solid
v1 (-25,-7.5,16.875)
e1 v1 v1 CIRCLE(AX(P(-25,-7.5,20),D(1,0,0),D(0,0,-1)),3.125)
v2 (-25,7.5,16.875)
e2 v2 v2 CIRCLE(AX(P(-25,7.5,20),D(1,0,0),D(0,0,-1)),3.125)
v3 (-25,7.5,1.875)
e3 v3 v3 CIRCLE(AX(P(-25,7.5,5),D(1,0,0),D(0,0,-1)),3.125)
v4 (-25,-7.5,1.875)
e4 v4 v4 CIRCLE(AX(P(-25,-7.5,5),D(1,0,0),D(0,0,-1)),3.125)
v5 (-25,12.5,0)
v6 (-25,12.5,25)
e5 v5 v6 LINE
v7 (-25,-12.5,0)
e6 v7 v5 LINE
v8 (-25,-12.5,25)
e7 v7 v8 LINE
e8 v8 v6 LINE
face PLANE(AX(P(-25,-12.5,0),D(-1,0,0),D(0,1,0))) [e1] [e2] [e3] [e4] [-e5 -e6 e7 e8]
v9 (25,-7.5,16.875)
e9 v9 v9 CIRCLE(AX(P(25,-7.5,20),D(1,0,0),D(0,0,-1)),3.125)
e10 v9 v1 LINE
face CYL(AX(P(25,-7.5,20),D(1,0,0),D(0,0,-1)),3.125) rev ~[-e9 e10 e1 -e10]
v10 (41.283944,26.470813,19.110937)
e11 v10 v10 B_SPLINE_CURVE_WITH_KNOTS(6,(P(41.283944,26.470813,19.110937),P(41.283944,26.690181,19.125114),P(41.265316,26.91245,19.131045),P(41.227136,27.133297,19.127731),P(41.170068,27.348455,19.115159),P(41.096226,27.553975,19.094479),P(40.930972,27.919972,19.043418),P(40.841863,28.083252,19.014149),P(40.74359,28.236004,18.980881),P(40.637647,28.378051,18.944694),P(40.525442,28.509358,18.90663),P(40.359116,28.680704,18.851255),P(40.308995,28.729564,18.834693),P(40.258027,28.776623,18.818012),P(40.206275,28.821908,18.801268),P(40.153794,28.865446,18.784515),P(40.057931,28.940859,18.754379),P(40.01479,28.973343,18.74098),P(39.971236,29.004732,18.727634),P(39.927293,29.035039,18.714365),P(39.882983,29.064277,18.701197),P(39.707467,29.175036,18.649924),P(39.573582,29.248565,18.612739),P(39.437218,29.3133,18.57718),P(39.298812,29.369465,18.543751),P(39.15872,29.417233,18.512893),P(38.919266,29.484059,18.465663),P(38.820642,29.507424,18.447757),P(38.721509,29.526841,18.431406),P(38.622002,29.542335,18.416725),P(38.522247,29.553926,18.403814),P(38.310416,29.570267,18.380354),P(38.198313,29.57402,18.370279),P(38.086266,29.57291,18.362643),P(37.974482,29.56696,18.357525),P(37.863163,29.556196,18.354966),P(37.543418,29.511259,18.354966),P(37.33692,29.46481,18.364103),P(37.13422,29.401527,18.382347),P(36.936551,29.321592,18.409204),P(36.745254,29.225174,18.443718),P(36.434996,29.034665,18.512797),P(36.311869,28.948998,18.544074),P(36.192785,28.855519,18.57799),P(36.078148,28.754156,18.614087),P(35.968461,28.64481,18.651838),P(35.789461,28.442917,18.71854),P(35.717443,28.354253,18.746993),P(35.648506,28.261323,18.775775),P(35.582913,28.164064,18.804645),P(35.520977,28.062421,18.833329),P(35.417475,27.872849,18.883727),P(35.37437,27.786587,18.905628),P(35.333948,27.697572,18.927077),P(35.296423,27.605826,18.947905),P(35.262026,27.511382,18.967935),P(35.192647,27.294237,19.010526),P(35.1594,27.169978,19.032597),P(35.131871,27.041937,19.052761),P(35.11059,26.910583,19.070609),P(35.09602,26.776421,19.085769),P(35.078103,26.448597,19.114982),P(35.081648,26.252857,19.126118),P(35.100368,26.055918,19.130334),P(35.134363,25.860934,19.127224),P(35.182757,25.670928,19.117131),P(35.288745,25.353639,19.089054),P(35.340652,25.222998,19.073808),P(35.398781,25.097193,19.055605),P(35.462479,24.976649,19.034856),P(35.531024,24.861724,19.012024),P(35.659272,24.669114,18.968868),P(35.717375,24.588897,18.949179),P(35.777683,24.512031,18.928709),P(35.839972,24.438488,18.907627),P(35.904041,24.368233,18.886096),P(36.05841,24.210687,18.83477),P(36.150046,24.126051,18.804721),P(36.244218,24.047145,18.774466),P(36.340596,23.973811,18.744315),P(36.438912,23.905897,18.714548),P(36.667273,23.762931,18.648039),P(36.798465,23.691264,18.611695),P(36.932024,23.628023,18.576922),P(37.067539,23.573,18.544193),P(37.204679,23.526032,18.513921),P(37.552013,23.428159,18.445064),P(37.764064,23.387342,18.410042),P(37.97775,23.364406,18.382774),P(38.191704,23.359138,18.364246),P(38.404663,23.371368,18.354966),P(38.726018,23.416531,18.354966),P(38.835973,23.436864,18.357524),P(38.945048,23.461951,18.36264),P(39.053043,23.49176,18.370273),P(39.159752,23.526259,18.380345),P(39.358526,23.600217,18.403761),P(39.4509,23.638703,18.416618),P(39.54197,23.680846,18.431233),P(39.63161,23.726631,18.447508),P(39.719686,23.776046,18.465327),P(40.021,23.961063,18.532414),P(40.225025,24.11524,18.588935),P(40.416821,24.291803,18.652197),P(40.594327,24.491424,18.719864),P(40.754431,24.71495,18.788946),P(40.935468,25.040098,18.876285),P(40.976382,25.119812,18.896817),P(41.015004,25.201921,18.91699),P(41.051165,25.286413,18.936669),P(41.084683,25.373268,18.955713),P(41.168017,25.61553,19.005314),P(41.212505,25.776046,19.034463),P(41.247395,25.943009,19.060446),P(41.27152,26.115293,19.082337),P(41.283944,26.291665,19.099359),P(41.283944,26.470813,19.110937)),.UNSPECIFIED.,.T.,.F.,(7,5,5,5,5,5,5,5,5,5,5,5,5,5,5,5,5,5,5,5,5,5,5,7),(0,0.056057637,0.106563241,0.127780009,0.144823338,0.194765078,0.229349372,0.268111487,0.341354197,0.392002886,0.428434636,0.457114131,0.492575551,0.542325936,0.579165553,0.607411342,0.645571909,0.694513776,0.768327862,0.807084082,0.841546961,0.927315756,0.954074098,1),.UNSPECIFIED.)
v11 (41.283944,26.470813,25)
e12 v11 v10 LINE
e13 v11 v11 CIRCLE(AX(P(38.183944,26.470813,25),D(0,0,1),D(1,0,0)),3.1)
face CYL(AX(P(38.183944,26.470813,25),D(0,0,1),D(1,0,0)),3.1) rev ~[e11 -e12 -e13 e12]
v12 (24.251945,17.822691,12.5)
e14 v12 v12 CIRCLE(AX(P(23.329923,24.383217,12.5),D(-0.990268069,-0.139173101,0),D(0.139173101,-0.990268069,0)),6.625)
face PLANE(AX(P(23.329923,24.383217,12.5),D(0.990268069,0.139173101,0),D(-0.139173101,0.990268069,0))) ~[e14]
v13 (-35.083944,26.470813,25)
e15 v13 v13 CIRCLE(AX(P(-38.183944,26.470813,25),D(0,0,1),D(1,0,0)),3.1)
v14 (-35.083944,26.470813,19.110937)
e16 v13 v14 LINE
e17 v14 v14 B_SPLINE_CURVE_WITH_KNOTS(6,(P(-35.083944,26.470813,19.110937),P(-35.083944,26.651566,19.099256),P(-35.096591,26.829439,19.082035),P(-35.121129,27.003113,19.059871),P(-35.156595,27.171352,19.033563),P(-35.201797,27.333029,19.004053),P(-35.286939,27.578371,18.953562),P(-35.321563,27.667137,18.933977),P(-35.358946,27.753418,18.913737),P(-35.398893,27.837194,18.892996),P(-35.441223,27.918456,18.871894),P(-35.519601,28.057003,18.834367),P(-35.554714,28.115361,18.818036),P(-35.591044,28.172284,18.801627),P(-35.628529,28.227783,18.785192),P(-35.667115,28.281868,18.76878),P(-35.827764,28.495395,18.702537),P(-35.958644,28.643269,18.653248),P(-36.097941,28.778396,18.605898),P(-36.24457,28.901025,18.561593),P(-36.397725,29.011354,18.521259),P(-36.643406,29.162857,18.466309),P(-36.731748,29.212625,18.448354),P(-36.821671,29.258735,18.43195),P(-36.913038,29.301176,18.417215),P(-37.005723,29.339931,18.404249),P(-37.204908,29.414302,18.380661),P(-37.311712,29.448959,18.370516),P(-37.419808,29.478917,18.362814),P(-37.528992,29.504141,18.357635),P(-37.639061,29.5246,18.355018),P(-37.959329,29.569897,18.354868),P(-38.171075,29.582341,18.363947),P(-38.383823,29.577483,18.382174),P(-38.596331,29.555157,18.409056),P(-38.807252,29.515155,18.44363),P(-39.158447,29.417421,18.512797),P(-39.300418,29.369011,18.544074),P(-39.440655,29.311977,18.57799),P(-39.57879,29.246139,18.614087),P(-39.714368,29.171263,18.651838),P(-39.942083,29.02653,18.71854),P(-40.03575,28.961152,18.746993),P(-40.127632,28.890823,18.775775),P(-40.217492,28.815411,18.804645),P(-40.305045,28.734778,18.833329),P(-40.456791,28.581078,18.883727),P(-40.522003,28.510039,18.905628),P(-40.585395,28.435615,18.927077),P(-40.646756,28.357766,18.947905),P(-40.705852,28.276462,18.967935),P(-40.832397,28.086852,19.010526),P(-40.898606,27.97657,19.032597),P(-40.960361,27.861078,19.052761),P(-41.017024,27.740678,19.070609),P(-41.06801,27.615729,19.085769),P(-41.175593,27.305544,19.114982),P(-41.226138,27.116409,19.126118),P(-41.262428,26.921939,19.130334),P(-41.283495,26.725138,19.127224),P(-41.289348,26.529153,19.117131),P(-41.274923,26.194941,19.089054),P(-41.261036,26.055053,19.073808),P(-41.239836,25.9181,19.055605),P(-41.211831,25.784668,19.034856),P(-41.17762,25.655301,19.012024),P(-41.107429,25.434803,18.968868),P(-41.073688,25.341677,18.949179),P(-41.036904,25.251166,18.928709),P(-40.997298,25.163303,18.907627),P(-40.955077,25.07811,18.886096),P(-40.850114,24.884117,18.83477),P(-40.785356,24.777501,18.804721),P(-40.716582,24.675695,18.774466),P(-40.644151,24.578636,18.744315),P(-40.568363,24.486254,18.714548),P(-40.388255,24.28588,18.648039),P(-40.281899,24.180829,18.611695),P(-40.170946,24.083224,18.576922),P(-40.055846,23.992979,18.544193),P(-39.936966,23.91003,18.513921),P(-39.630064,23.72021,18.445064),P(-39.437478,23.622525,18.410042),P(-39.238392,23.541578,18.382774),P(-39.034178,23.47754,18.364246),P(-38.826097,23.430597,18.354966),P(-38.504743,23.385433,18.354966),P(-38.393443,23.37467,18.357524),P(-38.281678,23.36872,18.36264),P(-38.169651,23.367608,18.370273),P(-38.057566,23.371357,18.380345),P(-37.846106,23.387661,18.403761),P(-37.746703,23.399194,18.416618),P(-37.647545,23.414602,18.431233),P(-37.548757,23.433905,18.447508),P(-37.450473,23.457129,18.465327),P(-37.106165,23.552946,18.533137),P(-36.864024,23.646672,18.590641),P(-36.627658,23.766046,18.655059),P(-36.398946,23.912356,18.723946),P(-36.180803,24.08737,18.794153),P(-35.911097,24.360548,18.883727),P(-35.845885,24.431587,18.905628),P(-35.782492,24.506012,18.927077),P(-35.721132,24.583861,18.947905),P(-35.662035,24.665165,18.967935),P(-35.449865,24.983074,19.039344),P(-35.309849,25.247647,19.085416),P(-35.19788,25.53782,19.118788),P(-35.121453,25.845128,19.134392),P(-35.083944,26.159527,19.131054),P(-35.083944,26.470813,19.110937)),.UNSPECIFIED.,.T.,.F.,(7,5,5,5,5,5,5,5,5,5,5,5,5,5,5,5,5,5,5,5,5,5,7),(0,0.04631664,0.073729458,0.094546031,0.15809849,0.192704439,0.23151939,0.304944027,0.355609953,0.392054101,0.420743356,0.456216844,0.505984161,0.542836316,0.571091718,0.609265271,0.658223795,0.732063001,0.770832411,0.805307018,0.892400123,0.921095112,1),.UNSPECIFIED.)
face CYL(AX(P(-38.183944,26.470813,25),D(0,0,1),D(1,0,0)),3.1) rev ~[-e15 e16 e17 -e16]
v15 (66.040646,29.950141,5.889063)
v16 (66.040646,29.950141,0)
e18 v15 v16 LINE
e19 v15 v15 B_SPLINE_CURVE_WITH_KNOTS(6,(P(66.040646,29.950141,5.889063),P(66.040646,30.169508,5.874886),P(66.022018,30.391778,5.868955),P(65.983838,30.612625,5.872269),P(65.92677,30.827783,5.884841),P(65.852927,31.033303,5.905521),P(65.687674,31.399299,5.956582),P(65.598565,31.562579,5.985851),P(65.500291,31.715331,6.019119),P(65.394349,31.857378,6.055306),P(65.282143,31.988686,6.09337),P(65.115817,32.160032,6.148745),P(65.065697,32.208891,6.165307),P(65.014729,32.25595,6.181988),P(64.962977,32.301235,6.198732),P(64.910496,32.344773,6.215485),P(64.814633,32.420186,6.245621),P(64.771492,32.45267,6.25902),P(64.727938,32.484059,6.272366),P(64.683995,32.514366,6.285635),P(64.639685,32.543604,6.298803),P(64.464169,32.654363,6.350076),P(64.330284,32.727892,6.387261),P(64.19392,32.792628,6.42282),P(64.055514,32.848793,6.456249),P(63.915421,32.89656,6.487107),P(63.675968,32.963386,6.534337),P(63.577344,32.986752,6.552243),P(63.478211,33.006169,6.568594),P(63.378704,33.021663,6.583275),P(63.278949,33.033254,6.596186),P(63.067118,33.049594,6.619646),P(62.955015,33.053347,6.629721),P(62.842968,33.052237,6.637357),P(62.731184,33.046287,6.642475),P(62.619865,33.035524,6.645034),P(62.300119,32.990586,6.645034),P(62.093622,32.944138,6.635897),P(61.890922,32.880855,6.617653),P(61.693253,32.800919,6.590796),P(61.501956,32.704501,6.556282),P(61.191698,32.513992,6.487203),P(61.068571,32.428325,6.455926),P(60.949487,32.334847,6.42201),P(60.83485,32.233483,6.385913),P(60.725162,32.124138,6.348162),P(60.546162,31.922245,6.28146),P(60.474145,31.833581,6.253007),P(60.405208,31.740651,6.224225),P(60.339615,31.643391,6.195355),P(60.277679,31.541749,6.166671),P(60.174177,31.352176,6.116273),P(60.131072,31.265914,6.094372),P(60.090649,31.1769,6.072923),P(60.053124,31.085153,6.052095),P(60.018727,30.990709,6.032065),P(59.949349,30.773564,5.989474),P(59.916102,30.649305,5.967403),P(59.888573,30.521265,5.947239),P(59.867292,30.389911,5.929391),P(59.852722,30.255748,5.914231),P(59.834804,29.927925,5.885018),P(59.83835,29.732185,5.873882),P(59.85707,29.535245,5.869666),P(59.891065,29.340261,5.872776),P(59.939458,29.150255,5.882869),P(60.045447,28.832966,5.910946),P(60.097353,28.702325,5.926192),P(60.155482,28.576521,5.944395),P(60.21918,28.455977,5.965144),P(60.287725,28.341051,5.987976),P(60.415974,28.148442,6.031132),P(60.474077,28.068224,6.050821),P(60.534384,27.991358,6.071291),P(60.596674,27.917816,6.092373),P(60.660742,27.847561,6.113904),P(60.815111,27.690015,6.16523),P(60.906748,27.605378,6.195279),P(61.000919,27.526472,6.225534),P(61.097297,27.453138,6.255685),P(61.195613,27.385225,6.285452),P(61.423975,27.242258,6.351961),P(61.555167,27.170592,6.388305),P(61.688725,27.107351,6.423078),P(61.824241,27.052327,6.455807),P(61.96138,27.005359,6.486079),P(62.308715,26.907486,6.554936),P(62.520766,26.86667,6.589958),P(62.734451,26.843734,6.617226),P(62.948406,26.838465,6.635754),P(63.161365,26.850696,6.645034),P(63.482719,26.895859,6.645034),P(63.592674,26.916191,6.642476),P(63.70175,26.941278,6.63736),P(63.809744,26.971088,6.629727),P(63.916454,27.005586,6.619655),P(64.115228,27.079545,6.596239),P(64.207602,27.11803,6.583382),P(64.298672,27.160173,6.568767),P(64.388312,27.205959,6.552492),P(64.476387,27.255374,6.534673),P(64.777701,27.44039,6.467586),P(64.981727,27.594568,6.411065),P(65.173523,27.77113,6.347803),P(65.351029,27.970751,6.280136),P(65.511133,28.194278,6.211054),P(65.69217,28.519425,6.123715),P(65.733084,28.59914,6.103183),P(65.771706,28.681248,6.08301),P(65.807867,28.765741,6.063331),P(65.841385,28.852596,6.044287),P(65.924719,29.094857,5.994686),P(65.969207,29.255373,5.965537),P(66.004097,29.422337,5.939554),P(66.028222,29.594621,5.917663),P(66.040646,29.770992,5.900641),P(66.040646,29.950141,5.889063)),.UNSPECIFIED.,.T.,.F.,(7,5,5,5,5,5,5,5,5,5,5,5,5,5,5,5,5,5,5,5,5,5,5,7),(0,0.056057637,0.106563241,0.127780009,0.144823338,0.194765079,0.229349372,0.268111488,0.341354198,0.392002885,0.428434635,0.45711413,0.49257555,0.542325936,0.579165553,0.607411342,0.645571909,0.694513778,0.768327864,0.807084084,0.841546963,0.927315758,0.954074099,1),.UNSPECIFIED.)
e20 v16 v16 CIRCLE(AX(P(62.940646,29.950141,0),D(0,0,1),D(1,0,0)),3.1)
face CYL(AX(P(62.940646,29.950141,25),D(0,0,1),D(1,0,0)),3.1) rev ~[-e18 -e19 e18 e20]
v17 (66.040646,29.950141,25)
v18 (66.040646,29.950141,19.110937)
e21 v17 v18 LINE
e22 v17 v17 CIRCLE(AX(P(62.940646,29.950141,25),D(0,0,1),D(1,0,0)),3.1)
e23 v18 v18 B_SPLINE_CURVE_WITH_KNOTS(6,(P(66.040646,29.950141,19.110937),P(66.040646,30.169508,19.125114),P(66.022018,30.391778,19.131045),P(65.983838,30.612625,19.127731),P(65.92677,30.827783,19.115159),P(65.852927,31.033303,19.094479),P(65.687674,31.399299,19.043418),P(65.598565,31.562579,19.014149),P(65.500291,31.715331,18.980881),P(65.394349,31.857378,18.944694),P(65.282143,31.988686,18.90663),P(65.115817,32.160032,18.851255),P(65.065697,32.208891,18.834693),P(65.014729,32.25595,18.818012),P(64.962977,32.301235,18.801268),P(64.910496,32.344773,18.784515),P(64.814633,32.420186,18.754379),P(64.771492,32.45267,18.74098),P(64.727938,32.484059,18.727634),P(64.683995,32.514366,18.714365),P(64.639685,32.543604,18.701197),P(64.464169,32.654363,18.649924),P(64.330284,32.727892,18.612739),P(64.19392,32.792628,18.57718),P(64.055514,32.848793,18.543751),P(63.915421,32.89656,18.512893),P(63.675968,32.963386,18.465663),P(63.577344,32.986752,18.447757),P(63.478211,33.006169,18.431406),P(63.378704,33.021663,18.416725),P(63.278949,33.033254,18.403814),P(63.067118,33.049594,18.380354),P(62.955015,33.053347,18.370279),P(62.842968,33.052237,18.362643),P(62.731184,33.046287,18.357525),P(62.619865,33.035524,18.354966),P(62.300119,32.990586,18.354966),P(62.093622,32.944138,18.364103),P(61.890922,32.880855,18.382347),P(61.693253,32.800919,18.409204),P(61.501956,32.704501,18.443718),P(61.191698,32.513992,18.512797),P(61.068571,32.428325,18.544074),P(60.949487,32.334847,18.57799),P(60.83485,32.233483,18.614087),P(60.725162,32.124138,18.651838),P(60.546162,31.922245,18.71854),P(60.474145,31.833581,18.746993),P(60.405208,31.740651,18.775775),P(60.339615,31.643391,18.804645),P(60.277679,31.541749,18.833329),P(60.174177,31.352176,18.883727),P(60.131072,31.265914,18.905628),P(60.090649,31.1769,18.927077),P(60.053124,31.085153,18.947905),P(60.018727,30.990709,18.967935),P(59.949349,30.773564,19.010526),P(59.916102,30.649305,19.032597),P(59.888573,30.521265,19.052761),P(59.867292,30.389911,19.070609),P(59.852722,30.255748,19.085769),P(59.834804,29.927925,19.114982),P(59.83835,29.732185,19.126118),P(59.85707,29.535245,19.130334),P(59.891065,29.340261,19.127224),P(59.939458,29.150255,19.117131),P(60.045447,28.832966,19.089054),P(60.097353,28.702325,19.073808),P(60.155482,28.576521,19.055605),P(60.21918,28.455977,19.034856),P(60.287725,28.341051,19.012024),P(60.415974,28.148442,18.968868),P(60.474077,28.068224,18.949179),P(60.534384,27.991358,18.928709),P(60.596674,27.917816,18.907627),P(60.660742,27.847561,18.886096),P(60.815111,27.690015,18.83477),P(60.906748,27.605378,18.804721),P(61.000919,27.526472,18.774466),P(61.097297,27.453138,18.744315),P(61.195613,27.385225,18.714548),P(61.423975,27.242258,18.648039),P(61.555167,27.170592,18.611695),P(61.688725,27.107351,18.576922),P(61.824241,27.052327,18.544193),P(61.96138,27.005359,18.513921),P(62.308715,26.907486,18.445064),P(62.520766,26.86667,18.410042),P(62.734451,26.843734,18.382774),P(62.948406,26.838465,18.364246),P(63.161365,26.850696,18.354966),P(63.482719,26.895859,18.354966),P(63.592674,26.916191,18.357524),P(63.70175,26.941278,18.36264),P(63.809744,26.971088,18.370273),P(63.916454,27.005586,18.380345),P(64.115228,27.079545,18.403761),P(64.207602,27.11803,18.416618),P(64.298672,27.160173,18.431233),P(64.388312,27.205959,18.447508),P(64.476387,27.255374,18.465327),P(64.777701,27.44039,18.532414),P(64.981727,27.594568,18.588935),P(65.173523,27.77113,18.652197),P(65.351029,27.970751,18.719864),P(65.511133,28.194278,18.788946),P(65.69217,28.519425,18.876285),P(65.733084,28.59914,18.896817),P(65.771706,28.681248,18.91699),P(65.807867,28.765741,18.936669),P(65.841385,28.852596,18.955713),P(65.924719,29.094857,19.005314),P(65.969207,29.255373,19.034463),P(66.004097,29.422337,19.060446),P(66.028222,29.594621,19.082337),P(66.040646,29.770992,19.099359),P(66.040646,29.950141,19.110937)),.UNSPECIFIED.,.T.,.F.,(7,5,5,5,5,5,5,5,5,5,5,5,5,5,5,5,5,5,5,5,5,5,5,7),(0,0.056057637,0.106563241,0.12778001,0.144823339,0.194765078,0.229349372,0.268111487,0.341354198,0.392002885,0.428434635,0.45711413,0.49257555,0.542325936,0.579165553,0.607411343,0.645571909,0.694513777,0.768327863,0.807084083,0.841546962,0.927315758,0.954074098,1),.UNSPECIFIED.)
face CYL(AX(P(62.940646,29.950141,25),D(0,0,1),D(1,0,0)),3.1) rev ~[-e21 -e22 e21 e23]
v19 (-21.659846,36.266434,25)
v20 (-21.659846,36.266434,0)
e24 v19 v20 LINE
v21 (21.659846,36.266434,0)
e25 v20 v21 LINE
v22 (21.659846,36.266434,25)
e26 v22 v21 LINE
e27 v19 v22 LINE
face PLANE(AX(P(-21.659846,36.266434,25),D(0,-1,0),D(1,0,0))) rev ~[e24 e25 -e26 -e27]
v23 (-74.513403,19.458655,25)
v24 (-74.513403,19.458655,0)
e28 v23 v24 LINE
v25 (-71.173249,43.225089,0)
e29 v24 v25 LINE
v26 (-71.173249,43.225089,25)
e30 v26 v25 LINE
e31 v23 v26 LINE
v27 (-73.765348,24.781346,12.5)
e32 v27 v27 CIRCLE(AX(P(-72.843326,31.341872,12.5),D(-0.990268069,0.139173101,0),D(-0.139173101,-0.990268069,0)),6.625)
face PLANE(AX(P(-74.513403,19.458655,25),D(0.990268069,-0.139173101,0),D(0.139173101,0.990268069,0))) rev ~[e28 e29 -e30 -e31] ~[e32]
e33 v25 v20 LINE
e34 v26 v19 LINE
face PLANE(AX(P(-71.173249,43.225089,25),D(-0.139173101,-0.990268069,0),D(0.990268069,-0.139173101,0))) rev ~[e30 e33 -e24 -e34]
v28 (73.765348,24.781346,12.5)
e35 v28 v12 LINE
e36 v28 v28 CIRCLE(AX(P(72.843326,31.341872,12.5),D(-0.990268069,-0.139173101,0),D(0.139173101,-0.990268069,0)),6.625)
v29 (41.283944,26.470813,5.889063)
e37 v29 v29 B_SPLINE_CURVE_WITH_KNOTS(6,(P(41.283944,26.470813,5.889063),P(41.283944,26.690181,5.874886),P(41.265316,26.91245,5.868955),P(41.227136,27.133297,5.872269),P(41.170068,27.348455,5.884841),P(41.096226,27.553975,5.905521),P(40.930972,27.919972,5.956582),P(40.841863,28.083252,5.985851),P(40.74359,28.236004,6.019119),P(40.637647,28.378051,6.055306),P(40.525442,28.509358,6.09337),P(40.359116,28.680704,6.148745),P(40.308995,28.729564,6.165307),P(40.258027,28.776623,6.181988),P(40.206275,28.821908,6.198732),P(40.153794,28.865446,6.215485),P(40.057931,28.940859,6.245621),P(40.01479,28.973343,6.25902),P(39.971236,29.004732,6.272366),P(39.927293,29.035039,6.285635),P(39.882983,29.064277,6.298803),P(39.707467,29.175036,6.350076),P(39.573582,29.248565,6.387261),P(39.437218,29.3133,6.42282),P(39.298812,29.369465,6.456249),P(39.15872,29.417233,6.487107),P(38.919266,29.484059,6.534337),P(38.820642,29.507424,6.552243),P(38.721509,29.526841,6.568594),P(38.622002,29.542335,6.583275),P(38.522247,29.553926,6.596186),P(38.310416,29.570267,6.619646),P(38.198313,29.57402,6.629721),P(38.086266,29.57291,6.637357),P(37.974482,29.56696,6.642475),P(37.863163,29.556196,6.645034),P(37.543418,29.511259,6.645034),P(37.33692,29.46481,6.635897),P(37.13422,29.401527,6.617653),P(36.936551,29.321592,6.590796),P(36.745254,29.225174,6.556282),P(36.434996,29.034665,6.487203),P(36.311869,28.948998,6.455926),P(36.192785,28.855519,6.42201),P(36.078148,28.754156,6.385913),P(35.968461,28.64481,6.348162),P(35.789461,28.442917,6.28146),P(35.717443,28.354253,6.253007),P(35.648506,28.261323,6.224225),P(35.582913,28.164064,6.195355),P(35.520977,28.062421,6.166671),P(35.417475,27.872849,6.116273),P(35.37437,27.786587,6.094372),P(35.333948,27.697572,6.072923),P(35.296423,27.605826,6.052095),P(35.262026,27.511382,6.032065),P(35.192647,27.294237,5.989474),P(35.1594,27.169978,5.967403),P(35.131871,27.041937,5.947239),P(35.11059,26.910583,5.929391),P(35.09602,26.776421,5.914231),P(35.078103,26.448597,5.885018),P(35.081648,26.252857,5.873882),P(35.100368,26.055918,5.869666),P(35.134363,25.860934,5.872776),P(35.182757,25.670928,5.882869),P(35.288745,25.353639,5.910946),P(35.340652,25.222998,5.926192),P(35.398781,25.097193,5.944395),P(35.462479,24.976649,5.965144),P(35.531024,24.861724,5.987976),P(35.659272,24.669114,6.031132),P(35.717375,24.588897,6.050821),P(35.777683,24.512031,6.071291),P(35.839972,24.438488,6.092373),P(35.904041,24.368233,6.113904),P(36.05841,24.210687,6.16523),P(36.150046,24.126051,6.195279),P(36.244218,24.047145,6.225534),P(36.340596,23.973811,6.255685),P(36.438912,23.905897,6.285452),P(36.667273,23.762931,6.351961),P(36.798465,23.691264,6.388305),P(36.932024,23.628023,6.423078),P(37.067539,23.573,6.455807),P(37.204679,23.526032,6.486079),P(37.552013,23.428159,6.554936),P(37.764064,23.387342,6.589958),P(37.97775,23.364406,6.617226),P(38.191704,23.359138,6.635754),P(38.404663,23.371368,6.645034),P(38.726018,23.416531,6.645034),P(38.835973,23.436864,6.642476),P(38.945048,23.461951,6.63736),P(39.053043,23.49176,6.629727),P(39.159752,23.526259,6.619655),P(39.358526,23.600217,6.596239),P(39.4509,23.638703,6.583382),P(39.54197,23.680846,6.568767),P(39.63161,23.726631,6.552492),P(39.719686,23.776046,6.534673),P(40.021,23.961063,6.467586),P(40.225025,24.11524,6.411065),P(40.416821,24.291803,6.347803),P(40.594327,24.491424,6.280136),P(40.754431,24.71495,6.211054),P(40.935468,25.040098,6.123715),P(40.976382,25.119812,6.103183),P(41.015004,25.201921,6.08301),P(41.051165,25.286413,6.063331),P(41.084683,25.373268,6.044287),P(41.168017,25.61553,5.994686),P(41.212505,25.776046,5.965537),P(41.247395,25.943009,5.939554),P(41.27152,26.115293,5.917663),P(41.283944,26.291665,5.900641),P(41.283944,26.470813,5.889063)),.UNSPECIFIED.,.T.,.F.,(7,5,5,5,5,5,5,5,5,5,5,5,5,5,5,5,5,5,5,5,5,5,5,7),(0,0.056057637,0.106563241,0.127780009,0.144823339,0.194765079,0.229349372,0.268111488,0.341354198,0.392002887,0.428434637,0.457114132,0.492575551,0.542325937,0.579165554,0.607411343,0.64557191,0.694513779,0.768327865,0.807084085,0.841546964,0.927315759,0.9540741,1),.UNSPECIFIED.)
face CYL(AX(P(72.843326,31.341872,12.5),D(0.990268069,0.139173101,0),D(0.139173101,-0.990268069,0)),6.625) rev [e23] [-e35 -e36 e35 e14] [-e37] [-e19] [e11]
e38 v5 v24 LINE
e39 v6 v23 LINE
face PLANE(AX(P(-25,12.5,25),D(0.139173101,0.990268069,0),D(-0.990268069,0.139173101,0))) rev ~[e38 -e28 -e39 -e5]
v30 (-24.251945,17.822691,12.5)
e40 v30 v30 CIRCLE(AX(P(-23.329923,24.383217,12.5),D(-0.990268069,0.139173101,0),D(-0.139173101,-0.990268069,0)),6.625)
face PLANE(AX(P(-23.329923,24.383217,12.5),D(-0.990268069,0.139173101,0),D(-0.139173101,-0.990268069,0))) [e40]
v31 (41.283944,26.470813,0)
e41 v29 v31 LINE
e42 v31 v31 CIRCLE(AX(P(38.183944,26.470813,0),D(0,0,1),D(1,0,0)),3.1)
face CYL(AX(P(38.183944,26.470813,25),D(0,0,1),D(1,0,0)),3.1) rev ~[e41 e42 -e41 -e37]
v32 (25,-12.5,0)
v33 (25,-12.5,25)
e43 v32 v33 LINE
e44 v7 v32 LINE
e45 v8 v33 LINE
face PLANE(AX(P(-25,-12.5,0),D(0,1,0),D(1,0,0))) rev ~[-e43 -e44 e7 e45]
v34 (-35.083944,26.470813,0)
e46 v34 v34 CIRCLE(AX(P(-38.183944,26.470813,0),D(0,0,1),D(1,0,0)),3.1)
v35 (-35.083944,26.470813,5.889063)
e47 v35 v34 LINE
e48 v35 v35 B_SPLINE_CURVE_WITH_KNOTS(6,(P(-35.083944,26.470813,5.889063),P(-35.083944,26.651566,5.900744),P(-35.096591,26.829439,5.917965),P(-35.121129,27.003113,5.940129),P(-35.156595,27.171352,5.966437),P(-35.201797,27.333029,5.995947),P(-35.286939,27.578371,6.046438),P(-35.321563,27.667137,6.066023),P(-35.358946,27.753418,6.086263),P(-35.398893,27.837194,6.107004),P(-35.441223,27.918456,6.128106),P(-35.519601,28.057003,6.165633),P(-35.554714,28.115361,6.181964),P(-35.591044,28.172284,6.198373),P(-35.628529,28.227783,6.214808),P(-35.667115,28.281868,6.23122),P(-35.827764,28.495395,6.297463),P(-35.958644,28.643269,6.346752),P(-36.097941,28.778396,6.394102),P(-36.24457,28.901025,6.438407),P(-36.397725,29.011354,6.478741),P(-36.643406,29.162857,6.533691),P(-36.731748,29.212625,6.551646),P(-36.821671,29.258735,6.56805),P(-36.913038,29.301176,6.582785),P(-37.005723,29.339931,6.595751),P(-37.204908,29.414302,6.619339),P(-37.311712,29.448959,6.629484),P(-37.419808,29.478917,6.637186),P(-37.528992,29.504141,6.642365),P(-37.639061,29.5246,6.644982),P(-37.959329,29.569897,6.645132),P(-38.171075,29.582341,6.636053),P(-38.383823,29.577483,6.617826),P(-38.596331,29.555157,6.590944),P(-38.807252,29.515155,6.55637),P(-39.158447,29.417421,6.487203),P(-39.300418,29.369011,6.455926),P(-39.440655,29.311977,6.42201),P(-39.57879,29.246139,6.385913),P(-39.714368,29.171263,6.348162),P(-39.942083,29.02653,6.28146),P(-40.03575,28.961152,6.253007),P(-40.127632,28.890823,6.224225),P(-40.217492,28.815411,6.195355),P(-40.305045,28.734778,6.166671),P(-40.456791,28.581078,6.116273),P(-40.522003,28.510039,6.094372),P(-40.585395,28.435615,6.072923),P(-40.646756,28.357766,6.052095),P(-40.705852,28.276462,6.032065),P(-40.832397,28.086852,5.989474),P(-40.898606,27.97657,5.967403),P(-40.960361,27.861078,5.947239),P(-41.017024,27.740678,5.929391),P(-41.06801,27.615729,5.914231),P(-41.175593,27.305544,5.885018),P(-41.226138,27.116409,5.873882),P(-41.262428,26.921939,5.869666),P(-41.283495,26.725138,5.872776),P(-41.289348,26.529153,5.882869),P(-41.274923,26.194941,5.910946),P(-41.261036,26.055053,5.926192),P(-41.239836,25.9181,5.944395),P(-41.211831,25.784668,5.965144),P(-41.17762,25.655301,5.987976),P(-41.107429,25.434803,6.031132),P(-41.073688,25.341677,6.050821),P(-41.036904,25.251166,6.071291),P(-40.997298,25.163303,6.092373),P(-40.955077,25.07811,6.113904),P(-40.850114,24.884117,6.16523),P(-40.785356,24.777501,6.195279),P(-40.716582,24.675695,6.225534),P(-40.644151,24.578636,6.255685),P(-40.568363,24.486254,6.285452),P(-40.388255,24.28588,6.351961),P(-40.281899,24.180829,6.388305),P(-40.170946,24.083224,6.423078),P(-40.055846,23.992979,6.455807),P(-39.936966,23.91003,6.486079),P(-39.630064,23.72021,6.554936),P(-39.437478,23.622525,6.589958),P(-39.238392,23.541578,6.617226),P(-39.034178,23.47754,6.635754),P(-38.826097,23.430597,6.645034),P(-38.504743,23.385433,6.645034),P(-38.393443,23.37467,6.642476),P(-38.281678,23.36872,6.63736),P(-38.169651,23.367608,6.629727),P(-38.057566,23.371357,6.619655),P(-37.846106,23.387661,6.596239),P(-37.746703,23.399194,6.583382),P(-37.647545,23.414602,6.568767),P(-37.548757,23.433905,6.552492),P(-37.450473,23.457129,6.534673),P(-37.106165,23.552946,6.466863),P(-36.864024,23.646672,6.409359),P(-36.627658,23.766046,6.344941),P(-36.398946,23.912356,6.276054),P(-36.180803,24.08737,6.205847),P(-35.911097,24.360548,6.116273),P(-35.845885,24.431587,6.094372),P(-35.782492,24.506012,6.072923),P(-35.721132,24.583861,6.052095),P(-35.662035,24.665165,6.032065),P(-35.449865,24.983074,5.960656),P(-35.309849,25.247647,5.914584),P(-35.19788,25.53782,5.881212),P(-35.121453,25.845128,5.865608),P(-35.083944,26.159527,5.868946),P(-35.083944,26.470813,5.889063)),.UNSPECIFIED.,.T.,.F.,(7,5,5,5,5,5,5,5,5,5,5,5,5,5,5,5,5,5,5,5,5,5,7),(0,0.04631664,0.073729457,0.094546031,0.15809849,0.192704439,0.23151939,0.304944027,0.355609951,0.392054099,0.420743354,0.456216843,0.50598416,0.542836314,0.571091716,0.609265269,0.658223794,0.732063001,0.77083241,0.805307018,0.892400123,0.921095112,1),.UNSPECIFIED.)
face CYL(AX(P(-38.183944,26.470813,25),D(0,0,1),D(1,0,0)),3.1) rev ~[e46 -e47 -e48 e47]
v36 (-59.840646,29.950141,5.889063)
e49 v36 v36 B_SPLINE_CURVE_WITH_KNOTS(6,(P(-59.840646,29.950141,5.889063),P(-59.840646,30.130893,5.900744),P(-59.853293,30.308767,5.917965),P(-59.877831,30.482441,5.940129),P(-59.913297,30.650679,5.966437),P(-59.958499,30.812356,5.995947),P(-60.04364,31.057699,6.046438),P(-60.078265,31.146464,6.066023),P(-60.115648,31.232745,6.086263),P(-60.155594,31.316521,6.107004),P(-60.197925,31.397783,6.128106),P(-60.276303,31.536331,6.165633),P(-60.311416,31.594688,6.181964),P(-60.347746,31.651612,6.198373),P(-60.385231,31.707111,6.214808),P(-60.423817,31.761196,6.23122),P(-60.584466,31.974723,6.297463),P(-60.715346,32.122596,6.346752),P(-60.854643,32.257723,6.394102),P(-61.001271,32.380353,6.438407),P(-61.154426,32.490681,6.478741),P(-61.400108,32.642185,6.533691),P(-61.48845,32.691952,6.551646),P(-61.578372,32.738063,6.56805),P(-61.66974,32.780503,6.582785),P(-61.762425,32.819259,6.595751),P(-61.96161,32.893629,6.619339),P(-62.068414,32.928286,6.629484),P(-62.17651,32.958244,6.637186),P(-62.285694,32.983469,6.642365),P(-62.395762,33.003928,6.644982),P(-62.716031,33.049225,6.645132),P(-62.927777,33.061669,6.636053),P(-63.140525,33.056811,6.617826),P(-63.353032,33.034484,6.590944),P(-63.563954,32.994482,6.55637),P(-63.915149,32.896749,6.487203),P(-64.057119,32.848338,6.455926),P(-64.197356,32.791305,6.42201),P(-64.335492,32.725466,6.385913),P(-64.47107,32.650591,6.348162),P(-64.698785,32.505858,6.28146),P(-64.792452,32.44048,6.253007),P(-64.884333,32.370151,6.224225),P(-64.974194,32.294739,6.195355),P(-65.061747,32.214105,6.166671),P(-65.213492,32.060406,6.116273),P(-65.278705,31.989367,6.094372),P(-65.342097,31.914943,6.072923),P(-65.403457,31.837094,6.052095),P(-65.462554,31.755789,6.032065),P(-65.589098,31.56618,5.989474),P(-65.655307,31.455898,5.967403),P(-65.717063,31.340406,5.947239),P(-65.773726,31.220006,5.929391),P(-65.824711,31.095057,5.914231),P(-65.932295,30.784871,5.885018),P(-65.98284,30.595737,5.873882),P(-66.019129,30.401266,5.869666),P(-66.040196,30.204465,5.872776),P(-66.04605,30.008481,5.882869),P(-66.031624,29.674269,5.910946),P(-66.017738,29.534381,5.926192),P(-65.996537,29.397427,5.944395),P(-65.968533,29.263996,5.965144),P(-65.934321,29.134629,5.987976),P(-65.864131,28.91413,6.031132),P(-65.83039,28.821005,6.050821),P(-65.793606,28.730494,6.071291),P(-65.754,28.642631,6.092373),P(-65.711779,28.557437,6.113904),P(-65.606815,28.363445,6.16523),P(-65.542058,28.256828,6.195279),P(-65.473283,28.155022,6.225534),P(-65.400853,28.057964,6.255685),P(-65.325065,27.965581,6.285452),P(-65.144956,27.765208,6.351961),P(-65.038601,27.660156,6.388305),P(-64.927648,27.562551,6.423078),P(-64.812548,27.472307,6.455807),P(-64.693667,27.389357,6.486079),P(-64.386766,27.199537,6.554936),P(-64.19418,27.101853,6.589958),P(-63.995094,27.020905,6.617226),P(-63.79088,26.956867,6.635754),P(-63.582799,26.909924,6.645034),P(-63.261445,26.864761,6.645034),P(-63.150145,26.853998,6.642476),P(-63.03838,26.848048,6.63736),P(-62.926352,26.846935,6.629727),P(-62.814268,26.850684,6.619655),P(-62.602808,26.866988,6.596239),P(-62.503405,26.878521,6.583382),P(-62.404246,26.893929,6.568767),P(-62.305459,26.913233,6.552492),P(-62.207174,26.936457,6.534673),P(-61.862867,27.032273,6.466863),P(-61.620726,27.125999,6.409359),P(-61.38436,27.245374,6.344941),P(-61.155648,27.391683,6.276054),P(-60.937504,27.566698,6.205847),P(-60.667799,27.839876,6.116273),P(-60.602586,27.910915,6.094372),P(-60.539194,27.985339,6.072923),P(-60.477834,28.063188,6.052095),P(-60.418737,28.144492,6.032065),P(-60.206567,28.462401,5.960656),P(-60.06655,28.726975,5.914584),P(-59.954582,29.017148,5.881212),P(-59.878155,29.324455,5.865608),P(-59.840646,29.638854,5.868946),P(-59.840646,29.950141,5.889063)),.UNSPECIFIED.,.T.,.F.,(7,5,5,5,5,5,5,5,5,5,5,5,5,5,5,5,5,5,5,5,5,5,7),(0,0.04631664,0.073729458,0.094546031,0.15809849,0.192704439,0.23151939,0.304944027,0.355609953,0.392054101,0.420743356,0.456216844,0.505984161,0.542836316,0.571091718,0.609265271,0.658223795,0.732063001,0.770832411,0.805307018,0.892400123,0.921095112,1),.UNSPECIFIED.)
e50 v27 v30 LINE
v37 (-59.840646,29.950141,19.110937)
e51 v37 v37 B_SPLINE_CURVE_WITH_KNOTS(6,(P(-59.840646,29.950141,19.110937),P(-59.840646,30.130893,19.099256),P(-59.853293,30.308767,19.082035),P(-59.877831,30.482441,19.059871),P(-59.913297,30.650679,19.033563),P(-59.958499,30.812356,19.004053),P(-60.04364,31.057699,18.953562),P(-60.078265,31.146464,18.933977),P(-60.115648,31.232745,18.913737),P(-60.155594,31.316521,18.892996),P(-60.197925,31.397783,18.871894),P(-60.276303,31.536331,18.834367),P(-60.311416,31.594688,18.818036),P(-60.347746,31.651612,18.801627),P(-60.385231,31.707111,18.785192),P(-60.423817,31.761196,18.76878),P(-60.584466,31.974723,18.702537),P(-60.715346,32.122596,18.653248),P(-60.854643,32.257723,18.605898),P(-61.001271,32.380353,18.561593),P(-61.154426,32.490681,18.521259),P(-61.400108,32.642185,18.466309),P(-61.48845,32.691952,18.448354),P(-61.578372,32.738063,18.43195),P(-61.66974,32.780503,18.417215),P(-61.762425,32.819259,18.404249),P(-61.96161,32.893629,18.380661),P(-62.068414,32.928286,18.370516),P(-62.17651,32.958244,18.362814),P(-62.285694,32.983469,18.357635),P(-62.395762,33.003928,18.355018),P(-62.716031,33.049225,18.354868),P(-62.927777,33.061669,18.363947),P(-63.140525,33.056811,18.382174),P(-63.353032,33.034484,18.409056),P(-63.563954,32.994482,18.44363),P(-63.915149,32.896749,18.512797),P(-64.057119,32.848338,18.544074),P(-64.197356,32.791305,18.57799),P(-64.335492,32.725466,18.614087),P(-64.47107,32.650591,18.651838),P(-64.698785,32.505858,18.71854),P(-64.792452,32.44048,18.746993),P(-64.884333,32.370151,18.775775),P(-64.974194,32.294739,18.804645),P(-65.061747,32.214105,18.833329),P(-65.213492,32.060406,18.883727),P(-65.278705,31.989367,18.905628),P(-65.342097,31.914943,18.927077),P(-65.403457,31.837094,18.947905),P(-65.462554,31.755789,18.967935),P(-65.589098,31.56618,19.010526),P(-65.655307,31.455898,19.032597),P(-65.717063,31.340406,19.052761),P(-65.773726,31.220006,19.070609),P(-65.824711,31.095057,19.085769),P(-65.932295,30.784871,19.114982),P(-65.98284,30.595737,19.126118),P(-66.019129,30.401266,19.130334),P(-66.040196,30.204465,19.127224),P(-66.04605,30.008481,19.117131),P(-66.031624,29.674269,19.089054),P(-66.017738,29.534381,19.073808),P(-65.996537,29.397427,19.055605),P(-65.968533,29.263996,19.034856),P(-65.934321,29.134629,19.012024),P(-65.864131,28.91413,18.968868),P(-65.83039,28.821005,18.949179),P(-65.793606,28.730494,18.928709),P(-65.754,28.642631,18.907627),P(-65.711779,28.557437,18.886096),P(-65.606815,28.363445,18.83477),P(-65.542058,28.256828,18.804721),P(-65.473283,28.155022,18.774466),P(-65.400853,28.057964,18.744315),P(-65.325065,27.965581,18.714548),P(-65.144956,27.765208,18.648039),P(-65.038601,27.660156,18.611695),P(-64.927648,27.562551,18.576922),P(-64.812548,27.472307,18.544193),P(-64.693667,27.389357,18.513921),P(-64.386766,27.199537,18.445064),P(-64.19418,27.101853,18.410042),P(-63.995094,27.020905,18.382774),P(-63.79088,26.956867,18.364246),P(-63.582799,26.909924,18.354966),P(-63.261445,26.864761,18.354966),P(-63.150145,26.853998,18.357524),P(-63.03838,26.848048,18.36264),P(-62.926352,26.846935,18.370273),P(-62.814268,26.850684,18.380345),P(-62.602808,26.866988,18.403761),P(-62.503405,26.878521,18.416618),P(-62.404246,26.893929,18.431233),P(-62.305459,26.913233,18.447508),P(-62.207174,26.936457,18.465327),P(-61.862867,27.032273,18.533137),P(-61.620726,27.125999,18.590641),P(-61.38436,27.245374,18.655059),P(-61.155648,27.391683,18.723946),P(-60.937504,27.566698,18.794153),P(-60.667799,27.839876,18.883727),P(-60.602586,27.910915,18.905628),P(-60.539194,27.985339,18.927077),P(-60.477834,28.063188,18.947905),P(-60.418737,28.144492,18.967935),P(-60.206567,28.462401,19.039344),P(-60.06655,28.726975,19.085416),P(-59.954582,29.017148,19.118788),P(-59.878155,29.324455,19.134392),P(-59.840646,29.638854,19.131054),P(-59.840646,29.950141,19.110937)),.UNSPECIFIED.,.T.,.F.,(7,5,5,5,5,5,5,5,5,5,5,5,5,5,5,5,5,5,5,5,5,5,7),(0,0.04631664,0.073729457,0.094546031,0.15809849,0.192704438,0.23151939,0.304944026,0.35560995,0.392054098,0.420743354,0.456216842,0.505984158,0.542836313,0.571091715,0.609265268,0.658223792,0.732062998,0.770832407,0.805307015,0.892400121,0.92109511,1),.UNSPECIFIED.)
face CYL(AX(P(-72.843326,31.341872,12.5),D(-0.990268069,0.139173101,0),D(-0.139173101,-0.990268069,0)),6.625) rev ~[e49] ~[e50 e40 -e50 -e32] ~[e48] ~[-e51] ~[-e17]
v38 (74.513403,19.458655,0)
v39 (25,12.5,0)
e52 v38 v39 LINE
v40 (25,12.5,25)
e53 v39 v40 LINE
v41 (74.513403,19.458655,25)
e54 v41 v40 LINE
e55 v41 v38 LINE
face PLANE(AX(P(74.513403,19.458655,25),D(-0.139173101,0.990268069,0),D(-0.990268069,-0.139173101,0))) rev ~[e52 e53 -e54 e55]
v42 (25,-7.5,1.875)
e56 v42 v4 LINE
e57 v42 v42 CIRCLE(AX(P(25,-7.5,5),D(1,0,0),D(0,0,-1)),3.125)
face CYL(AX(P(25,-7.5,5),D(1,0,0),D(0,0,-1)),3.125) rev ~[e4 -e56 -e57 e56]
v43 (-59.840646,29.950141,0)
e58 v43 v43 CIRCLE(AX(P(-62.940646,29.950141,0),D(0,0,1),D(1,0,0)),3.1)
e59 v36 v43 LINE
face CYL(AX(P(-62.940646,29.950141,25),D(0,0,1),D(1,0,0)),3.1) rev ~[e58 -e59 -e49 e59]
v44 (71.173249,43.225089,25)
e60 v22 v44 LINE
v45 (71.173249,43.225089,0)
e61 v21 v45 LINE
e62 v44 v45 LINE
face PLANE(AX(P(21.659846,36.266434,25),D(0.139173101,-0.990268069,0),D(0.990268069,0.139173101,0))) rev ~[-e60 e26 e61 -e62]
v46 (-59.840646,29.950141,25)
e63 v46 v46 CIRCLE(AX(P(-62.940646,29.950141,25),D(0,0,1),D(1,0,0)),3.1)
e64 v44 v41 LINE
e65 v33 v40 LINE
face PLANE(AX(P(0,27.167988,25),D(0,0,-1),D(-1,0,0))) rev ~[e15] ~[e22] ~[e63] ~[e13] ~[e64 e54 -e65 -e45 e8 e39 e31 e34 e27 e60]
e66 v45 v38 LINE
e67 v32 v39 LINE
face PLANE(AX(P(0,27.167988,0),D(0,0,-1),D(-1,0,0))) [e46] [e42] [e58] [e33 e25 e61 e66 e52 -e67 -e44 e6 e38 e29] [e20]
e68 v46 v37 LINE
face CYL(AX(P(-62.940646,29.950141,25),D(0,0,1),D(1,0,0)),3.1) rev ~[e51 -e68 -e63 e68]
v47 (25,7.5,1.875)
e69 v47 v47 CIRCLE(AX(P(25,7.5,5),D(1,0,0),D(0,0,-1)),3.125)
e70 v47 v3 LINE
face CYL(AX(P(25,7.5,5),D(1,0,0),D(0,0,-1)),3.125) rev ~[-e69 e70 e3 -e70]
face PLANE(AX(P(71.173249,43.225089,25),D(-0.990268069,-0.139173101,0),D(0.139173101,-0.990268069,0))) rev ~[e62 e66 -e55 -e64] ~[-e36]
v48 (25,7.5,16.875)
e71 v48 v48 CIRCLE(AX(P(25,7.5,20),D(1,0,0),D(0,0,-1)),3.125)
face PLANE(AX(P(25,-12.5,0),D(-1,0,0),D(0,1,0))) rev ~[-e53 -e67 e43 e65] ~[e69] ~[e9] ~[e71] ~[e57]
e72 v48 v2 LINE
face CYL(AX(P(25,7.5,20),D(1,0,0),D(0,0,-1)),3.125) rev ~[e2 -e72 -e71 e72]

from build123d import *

# Parameters (mm, degrees)
SKETCH1_W           = 50
SKETCH1_H           = 25
BOSS_EXTRUDE1_DEPTH = 25
BOSS_EXTRUDE2_DEPTH = 25
SKETCH4_R           = 6.625
CUT_EXTRUDE1_DEPTH  = 50
SKETCH5_R           = 3.1
CUT_EXTRUDE2_DEPTH  = 90.697578477
SKETCH6_R           = 3.125
CUT_EXTRUDE3_DEPTH  = 112.338788217


with BuildPart() as part:
    # Sketch1 → Boss-Extrude1 (new body)
    with BuildSketch(Plane.XY):
        Rectangle(SKETCH1_W, SKETCH1_H)
    extrude(amount=BOSS_EXTRUDE1_DEPTH)

    # Sketch3 → Boss-Extrude2 (add)
    with BuildSketch(Plane.XY.offset(25)):
        Polygon((-25, 12.5), (-74.513403437, 19.458655048), (-71.173249014, 43.225088698), (-21.659845577, 36.26643365), (21.659845577, 36.26643365), (71.173249014, 43.225088698), (74.513403437, 19.458655048), (25, 12.5), align=None)
    extrude(amount=-BOSS_EXTRUDE2_DEPTH)

    # Sketch4 → Cut-Extrude1 (cut)
    with BuildSketch(Plane(origin=(-75.75190811, 10.646236396, 0), x_dir=(0, 0, 1), z_dir=(-0.9902680687415705, 0.13917310096006502, 0))):
        with Locations(Location((12.5, 20.899023335, 0), (0, 0, 270))):
            Circle(SKETCH4_R)
    cut_extrude1 = extrude(amount=-CUT_EXTRUDE1_DEPTH, mode=Mode.SUBTRACT)

    # Mirror1: Cut-Extrude1 across plane
    add(cut_extrude1.mirror(Plane(origin=(0, 0, 0), x_dir=(0, 0, 1), z_dir=(1, 0, 0))), mode=Mode.SUBTRACT)

    # Sketch5 → Cut-Extrude2 (cut, through all)
    with BuildSketch(Plane.XY.offset(25)):
        with Locations((-62.940645538, 29.950140863)):
            Circle(SKETCH5_R)
        with Locations((-38.18394382, 26.470813339)):
            Circle(SKETCH5_R)
        with Locations((38.18394382, 26.470813339)):
            Circle(SKETCH5_R)
        with Locations((62.940645538, 29.950140863)):
            Circle(SKETCH5_R)
    extrude(amount=-CUT_EXTRUDE2_DEPTH, mode=Mode.SUBTRACT)

    # Sketch6 → Cut-Extrude3 (cut, through all)
    with BuildSketch(Plane(origin=(25, 0, 0), x_dir=(0, 0, -1), z_dir=(1, 0, 0))):
        with Locations((-20, 7.5)):
            Circle(SKETCH6_R)
        with Locations((-5, 7.5)):
            Circle(SKETCH6_R)
        with Locations((-5, -7.5)):
            Circle(SKETCH6_R)
        with Locations((-20, -7.5)):
            Circle(SKETCH6_R)
    extrude(amount=-CUT_EXTRUDE3_DEPTH, mode=Mode.SUBTRACT)


solid = part.part
